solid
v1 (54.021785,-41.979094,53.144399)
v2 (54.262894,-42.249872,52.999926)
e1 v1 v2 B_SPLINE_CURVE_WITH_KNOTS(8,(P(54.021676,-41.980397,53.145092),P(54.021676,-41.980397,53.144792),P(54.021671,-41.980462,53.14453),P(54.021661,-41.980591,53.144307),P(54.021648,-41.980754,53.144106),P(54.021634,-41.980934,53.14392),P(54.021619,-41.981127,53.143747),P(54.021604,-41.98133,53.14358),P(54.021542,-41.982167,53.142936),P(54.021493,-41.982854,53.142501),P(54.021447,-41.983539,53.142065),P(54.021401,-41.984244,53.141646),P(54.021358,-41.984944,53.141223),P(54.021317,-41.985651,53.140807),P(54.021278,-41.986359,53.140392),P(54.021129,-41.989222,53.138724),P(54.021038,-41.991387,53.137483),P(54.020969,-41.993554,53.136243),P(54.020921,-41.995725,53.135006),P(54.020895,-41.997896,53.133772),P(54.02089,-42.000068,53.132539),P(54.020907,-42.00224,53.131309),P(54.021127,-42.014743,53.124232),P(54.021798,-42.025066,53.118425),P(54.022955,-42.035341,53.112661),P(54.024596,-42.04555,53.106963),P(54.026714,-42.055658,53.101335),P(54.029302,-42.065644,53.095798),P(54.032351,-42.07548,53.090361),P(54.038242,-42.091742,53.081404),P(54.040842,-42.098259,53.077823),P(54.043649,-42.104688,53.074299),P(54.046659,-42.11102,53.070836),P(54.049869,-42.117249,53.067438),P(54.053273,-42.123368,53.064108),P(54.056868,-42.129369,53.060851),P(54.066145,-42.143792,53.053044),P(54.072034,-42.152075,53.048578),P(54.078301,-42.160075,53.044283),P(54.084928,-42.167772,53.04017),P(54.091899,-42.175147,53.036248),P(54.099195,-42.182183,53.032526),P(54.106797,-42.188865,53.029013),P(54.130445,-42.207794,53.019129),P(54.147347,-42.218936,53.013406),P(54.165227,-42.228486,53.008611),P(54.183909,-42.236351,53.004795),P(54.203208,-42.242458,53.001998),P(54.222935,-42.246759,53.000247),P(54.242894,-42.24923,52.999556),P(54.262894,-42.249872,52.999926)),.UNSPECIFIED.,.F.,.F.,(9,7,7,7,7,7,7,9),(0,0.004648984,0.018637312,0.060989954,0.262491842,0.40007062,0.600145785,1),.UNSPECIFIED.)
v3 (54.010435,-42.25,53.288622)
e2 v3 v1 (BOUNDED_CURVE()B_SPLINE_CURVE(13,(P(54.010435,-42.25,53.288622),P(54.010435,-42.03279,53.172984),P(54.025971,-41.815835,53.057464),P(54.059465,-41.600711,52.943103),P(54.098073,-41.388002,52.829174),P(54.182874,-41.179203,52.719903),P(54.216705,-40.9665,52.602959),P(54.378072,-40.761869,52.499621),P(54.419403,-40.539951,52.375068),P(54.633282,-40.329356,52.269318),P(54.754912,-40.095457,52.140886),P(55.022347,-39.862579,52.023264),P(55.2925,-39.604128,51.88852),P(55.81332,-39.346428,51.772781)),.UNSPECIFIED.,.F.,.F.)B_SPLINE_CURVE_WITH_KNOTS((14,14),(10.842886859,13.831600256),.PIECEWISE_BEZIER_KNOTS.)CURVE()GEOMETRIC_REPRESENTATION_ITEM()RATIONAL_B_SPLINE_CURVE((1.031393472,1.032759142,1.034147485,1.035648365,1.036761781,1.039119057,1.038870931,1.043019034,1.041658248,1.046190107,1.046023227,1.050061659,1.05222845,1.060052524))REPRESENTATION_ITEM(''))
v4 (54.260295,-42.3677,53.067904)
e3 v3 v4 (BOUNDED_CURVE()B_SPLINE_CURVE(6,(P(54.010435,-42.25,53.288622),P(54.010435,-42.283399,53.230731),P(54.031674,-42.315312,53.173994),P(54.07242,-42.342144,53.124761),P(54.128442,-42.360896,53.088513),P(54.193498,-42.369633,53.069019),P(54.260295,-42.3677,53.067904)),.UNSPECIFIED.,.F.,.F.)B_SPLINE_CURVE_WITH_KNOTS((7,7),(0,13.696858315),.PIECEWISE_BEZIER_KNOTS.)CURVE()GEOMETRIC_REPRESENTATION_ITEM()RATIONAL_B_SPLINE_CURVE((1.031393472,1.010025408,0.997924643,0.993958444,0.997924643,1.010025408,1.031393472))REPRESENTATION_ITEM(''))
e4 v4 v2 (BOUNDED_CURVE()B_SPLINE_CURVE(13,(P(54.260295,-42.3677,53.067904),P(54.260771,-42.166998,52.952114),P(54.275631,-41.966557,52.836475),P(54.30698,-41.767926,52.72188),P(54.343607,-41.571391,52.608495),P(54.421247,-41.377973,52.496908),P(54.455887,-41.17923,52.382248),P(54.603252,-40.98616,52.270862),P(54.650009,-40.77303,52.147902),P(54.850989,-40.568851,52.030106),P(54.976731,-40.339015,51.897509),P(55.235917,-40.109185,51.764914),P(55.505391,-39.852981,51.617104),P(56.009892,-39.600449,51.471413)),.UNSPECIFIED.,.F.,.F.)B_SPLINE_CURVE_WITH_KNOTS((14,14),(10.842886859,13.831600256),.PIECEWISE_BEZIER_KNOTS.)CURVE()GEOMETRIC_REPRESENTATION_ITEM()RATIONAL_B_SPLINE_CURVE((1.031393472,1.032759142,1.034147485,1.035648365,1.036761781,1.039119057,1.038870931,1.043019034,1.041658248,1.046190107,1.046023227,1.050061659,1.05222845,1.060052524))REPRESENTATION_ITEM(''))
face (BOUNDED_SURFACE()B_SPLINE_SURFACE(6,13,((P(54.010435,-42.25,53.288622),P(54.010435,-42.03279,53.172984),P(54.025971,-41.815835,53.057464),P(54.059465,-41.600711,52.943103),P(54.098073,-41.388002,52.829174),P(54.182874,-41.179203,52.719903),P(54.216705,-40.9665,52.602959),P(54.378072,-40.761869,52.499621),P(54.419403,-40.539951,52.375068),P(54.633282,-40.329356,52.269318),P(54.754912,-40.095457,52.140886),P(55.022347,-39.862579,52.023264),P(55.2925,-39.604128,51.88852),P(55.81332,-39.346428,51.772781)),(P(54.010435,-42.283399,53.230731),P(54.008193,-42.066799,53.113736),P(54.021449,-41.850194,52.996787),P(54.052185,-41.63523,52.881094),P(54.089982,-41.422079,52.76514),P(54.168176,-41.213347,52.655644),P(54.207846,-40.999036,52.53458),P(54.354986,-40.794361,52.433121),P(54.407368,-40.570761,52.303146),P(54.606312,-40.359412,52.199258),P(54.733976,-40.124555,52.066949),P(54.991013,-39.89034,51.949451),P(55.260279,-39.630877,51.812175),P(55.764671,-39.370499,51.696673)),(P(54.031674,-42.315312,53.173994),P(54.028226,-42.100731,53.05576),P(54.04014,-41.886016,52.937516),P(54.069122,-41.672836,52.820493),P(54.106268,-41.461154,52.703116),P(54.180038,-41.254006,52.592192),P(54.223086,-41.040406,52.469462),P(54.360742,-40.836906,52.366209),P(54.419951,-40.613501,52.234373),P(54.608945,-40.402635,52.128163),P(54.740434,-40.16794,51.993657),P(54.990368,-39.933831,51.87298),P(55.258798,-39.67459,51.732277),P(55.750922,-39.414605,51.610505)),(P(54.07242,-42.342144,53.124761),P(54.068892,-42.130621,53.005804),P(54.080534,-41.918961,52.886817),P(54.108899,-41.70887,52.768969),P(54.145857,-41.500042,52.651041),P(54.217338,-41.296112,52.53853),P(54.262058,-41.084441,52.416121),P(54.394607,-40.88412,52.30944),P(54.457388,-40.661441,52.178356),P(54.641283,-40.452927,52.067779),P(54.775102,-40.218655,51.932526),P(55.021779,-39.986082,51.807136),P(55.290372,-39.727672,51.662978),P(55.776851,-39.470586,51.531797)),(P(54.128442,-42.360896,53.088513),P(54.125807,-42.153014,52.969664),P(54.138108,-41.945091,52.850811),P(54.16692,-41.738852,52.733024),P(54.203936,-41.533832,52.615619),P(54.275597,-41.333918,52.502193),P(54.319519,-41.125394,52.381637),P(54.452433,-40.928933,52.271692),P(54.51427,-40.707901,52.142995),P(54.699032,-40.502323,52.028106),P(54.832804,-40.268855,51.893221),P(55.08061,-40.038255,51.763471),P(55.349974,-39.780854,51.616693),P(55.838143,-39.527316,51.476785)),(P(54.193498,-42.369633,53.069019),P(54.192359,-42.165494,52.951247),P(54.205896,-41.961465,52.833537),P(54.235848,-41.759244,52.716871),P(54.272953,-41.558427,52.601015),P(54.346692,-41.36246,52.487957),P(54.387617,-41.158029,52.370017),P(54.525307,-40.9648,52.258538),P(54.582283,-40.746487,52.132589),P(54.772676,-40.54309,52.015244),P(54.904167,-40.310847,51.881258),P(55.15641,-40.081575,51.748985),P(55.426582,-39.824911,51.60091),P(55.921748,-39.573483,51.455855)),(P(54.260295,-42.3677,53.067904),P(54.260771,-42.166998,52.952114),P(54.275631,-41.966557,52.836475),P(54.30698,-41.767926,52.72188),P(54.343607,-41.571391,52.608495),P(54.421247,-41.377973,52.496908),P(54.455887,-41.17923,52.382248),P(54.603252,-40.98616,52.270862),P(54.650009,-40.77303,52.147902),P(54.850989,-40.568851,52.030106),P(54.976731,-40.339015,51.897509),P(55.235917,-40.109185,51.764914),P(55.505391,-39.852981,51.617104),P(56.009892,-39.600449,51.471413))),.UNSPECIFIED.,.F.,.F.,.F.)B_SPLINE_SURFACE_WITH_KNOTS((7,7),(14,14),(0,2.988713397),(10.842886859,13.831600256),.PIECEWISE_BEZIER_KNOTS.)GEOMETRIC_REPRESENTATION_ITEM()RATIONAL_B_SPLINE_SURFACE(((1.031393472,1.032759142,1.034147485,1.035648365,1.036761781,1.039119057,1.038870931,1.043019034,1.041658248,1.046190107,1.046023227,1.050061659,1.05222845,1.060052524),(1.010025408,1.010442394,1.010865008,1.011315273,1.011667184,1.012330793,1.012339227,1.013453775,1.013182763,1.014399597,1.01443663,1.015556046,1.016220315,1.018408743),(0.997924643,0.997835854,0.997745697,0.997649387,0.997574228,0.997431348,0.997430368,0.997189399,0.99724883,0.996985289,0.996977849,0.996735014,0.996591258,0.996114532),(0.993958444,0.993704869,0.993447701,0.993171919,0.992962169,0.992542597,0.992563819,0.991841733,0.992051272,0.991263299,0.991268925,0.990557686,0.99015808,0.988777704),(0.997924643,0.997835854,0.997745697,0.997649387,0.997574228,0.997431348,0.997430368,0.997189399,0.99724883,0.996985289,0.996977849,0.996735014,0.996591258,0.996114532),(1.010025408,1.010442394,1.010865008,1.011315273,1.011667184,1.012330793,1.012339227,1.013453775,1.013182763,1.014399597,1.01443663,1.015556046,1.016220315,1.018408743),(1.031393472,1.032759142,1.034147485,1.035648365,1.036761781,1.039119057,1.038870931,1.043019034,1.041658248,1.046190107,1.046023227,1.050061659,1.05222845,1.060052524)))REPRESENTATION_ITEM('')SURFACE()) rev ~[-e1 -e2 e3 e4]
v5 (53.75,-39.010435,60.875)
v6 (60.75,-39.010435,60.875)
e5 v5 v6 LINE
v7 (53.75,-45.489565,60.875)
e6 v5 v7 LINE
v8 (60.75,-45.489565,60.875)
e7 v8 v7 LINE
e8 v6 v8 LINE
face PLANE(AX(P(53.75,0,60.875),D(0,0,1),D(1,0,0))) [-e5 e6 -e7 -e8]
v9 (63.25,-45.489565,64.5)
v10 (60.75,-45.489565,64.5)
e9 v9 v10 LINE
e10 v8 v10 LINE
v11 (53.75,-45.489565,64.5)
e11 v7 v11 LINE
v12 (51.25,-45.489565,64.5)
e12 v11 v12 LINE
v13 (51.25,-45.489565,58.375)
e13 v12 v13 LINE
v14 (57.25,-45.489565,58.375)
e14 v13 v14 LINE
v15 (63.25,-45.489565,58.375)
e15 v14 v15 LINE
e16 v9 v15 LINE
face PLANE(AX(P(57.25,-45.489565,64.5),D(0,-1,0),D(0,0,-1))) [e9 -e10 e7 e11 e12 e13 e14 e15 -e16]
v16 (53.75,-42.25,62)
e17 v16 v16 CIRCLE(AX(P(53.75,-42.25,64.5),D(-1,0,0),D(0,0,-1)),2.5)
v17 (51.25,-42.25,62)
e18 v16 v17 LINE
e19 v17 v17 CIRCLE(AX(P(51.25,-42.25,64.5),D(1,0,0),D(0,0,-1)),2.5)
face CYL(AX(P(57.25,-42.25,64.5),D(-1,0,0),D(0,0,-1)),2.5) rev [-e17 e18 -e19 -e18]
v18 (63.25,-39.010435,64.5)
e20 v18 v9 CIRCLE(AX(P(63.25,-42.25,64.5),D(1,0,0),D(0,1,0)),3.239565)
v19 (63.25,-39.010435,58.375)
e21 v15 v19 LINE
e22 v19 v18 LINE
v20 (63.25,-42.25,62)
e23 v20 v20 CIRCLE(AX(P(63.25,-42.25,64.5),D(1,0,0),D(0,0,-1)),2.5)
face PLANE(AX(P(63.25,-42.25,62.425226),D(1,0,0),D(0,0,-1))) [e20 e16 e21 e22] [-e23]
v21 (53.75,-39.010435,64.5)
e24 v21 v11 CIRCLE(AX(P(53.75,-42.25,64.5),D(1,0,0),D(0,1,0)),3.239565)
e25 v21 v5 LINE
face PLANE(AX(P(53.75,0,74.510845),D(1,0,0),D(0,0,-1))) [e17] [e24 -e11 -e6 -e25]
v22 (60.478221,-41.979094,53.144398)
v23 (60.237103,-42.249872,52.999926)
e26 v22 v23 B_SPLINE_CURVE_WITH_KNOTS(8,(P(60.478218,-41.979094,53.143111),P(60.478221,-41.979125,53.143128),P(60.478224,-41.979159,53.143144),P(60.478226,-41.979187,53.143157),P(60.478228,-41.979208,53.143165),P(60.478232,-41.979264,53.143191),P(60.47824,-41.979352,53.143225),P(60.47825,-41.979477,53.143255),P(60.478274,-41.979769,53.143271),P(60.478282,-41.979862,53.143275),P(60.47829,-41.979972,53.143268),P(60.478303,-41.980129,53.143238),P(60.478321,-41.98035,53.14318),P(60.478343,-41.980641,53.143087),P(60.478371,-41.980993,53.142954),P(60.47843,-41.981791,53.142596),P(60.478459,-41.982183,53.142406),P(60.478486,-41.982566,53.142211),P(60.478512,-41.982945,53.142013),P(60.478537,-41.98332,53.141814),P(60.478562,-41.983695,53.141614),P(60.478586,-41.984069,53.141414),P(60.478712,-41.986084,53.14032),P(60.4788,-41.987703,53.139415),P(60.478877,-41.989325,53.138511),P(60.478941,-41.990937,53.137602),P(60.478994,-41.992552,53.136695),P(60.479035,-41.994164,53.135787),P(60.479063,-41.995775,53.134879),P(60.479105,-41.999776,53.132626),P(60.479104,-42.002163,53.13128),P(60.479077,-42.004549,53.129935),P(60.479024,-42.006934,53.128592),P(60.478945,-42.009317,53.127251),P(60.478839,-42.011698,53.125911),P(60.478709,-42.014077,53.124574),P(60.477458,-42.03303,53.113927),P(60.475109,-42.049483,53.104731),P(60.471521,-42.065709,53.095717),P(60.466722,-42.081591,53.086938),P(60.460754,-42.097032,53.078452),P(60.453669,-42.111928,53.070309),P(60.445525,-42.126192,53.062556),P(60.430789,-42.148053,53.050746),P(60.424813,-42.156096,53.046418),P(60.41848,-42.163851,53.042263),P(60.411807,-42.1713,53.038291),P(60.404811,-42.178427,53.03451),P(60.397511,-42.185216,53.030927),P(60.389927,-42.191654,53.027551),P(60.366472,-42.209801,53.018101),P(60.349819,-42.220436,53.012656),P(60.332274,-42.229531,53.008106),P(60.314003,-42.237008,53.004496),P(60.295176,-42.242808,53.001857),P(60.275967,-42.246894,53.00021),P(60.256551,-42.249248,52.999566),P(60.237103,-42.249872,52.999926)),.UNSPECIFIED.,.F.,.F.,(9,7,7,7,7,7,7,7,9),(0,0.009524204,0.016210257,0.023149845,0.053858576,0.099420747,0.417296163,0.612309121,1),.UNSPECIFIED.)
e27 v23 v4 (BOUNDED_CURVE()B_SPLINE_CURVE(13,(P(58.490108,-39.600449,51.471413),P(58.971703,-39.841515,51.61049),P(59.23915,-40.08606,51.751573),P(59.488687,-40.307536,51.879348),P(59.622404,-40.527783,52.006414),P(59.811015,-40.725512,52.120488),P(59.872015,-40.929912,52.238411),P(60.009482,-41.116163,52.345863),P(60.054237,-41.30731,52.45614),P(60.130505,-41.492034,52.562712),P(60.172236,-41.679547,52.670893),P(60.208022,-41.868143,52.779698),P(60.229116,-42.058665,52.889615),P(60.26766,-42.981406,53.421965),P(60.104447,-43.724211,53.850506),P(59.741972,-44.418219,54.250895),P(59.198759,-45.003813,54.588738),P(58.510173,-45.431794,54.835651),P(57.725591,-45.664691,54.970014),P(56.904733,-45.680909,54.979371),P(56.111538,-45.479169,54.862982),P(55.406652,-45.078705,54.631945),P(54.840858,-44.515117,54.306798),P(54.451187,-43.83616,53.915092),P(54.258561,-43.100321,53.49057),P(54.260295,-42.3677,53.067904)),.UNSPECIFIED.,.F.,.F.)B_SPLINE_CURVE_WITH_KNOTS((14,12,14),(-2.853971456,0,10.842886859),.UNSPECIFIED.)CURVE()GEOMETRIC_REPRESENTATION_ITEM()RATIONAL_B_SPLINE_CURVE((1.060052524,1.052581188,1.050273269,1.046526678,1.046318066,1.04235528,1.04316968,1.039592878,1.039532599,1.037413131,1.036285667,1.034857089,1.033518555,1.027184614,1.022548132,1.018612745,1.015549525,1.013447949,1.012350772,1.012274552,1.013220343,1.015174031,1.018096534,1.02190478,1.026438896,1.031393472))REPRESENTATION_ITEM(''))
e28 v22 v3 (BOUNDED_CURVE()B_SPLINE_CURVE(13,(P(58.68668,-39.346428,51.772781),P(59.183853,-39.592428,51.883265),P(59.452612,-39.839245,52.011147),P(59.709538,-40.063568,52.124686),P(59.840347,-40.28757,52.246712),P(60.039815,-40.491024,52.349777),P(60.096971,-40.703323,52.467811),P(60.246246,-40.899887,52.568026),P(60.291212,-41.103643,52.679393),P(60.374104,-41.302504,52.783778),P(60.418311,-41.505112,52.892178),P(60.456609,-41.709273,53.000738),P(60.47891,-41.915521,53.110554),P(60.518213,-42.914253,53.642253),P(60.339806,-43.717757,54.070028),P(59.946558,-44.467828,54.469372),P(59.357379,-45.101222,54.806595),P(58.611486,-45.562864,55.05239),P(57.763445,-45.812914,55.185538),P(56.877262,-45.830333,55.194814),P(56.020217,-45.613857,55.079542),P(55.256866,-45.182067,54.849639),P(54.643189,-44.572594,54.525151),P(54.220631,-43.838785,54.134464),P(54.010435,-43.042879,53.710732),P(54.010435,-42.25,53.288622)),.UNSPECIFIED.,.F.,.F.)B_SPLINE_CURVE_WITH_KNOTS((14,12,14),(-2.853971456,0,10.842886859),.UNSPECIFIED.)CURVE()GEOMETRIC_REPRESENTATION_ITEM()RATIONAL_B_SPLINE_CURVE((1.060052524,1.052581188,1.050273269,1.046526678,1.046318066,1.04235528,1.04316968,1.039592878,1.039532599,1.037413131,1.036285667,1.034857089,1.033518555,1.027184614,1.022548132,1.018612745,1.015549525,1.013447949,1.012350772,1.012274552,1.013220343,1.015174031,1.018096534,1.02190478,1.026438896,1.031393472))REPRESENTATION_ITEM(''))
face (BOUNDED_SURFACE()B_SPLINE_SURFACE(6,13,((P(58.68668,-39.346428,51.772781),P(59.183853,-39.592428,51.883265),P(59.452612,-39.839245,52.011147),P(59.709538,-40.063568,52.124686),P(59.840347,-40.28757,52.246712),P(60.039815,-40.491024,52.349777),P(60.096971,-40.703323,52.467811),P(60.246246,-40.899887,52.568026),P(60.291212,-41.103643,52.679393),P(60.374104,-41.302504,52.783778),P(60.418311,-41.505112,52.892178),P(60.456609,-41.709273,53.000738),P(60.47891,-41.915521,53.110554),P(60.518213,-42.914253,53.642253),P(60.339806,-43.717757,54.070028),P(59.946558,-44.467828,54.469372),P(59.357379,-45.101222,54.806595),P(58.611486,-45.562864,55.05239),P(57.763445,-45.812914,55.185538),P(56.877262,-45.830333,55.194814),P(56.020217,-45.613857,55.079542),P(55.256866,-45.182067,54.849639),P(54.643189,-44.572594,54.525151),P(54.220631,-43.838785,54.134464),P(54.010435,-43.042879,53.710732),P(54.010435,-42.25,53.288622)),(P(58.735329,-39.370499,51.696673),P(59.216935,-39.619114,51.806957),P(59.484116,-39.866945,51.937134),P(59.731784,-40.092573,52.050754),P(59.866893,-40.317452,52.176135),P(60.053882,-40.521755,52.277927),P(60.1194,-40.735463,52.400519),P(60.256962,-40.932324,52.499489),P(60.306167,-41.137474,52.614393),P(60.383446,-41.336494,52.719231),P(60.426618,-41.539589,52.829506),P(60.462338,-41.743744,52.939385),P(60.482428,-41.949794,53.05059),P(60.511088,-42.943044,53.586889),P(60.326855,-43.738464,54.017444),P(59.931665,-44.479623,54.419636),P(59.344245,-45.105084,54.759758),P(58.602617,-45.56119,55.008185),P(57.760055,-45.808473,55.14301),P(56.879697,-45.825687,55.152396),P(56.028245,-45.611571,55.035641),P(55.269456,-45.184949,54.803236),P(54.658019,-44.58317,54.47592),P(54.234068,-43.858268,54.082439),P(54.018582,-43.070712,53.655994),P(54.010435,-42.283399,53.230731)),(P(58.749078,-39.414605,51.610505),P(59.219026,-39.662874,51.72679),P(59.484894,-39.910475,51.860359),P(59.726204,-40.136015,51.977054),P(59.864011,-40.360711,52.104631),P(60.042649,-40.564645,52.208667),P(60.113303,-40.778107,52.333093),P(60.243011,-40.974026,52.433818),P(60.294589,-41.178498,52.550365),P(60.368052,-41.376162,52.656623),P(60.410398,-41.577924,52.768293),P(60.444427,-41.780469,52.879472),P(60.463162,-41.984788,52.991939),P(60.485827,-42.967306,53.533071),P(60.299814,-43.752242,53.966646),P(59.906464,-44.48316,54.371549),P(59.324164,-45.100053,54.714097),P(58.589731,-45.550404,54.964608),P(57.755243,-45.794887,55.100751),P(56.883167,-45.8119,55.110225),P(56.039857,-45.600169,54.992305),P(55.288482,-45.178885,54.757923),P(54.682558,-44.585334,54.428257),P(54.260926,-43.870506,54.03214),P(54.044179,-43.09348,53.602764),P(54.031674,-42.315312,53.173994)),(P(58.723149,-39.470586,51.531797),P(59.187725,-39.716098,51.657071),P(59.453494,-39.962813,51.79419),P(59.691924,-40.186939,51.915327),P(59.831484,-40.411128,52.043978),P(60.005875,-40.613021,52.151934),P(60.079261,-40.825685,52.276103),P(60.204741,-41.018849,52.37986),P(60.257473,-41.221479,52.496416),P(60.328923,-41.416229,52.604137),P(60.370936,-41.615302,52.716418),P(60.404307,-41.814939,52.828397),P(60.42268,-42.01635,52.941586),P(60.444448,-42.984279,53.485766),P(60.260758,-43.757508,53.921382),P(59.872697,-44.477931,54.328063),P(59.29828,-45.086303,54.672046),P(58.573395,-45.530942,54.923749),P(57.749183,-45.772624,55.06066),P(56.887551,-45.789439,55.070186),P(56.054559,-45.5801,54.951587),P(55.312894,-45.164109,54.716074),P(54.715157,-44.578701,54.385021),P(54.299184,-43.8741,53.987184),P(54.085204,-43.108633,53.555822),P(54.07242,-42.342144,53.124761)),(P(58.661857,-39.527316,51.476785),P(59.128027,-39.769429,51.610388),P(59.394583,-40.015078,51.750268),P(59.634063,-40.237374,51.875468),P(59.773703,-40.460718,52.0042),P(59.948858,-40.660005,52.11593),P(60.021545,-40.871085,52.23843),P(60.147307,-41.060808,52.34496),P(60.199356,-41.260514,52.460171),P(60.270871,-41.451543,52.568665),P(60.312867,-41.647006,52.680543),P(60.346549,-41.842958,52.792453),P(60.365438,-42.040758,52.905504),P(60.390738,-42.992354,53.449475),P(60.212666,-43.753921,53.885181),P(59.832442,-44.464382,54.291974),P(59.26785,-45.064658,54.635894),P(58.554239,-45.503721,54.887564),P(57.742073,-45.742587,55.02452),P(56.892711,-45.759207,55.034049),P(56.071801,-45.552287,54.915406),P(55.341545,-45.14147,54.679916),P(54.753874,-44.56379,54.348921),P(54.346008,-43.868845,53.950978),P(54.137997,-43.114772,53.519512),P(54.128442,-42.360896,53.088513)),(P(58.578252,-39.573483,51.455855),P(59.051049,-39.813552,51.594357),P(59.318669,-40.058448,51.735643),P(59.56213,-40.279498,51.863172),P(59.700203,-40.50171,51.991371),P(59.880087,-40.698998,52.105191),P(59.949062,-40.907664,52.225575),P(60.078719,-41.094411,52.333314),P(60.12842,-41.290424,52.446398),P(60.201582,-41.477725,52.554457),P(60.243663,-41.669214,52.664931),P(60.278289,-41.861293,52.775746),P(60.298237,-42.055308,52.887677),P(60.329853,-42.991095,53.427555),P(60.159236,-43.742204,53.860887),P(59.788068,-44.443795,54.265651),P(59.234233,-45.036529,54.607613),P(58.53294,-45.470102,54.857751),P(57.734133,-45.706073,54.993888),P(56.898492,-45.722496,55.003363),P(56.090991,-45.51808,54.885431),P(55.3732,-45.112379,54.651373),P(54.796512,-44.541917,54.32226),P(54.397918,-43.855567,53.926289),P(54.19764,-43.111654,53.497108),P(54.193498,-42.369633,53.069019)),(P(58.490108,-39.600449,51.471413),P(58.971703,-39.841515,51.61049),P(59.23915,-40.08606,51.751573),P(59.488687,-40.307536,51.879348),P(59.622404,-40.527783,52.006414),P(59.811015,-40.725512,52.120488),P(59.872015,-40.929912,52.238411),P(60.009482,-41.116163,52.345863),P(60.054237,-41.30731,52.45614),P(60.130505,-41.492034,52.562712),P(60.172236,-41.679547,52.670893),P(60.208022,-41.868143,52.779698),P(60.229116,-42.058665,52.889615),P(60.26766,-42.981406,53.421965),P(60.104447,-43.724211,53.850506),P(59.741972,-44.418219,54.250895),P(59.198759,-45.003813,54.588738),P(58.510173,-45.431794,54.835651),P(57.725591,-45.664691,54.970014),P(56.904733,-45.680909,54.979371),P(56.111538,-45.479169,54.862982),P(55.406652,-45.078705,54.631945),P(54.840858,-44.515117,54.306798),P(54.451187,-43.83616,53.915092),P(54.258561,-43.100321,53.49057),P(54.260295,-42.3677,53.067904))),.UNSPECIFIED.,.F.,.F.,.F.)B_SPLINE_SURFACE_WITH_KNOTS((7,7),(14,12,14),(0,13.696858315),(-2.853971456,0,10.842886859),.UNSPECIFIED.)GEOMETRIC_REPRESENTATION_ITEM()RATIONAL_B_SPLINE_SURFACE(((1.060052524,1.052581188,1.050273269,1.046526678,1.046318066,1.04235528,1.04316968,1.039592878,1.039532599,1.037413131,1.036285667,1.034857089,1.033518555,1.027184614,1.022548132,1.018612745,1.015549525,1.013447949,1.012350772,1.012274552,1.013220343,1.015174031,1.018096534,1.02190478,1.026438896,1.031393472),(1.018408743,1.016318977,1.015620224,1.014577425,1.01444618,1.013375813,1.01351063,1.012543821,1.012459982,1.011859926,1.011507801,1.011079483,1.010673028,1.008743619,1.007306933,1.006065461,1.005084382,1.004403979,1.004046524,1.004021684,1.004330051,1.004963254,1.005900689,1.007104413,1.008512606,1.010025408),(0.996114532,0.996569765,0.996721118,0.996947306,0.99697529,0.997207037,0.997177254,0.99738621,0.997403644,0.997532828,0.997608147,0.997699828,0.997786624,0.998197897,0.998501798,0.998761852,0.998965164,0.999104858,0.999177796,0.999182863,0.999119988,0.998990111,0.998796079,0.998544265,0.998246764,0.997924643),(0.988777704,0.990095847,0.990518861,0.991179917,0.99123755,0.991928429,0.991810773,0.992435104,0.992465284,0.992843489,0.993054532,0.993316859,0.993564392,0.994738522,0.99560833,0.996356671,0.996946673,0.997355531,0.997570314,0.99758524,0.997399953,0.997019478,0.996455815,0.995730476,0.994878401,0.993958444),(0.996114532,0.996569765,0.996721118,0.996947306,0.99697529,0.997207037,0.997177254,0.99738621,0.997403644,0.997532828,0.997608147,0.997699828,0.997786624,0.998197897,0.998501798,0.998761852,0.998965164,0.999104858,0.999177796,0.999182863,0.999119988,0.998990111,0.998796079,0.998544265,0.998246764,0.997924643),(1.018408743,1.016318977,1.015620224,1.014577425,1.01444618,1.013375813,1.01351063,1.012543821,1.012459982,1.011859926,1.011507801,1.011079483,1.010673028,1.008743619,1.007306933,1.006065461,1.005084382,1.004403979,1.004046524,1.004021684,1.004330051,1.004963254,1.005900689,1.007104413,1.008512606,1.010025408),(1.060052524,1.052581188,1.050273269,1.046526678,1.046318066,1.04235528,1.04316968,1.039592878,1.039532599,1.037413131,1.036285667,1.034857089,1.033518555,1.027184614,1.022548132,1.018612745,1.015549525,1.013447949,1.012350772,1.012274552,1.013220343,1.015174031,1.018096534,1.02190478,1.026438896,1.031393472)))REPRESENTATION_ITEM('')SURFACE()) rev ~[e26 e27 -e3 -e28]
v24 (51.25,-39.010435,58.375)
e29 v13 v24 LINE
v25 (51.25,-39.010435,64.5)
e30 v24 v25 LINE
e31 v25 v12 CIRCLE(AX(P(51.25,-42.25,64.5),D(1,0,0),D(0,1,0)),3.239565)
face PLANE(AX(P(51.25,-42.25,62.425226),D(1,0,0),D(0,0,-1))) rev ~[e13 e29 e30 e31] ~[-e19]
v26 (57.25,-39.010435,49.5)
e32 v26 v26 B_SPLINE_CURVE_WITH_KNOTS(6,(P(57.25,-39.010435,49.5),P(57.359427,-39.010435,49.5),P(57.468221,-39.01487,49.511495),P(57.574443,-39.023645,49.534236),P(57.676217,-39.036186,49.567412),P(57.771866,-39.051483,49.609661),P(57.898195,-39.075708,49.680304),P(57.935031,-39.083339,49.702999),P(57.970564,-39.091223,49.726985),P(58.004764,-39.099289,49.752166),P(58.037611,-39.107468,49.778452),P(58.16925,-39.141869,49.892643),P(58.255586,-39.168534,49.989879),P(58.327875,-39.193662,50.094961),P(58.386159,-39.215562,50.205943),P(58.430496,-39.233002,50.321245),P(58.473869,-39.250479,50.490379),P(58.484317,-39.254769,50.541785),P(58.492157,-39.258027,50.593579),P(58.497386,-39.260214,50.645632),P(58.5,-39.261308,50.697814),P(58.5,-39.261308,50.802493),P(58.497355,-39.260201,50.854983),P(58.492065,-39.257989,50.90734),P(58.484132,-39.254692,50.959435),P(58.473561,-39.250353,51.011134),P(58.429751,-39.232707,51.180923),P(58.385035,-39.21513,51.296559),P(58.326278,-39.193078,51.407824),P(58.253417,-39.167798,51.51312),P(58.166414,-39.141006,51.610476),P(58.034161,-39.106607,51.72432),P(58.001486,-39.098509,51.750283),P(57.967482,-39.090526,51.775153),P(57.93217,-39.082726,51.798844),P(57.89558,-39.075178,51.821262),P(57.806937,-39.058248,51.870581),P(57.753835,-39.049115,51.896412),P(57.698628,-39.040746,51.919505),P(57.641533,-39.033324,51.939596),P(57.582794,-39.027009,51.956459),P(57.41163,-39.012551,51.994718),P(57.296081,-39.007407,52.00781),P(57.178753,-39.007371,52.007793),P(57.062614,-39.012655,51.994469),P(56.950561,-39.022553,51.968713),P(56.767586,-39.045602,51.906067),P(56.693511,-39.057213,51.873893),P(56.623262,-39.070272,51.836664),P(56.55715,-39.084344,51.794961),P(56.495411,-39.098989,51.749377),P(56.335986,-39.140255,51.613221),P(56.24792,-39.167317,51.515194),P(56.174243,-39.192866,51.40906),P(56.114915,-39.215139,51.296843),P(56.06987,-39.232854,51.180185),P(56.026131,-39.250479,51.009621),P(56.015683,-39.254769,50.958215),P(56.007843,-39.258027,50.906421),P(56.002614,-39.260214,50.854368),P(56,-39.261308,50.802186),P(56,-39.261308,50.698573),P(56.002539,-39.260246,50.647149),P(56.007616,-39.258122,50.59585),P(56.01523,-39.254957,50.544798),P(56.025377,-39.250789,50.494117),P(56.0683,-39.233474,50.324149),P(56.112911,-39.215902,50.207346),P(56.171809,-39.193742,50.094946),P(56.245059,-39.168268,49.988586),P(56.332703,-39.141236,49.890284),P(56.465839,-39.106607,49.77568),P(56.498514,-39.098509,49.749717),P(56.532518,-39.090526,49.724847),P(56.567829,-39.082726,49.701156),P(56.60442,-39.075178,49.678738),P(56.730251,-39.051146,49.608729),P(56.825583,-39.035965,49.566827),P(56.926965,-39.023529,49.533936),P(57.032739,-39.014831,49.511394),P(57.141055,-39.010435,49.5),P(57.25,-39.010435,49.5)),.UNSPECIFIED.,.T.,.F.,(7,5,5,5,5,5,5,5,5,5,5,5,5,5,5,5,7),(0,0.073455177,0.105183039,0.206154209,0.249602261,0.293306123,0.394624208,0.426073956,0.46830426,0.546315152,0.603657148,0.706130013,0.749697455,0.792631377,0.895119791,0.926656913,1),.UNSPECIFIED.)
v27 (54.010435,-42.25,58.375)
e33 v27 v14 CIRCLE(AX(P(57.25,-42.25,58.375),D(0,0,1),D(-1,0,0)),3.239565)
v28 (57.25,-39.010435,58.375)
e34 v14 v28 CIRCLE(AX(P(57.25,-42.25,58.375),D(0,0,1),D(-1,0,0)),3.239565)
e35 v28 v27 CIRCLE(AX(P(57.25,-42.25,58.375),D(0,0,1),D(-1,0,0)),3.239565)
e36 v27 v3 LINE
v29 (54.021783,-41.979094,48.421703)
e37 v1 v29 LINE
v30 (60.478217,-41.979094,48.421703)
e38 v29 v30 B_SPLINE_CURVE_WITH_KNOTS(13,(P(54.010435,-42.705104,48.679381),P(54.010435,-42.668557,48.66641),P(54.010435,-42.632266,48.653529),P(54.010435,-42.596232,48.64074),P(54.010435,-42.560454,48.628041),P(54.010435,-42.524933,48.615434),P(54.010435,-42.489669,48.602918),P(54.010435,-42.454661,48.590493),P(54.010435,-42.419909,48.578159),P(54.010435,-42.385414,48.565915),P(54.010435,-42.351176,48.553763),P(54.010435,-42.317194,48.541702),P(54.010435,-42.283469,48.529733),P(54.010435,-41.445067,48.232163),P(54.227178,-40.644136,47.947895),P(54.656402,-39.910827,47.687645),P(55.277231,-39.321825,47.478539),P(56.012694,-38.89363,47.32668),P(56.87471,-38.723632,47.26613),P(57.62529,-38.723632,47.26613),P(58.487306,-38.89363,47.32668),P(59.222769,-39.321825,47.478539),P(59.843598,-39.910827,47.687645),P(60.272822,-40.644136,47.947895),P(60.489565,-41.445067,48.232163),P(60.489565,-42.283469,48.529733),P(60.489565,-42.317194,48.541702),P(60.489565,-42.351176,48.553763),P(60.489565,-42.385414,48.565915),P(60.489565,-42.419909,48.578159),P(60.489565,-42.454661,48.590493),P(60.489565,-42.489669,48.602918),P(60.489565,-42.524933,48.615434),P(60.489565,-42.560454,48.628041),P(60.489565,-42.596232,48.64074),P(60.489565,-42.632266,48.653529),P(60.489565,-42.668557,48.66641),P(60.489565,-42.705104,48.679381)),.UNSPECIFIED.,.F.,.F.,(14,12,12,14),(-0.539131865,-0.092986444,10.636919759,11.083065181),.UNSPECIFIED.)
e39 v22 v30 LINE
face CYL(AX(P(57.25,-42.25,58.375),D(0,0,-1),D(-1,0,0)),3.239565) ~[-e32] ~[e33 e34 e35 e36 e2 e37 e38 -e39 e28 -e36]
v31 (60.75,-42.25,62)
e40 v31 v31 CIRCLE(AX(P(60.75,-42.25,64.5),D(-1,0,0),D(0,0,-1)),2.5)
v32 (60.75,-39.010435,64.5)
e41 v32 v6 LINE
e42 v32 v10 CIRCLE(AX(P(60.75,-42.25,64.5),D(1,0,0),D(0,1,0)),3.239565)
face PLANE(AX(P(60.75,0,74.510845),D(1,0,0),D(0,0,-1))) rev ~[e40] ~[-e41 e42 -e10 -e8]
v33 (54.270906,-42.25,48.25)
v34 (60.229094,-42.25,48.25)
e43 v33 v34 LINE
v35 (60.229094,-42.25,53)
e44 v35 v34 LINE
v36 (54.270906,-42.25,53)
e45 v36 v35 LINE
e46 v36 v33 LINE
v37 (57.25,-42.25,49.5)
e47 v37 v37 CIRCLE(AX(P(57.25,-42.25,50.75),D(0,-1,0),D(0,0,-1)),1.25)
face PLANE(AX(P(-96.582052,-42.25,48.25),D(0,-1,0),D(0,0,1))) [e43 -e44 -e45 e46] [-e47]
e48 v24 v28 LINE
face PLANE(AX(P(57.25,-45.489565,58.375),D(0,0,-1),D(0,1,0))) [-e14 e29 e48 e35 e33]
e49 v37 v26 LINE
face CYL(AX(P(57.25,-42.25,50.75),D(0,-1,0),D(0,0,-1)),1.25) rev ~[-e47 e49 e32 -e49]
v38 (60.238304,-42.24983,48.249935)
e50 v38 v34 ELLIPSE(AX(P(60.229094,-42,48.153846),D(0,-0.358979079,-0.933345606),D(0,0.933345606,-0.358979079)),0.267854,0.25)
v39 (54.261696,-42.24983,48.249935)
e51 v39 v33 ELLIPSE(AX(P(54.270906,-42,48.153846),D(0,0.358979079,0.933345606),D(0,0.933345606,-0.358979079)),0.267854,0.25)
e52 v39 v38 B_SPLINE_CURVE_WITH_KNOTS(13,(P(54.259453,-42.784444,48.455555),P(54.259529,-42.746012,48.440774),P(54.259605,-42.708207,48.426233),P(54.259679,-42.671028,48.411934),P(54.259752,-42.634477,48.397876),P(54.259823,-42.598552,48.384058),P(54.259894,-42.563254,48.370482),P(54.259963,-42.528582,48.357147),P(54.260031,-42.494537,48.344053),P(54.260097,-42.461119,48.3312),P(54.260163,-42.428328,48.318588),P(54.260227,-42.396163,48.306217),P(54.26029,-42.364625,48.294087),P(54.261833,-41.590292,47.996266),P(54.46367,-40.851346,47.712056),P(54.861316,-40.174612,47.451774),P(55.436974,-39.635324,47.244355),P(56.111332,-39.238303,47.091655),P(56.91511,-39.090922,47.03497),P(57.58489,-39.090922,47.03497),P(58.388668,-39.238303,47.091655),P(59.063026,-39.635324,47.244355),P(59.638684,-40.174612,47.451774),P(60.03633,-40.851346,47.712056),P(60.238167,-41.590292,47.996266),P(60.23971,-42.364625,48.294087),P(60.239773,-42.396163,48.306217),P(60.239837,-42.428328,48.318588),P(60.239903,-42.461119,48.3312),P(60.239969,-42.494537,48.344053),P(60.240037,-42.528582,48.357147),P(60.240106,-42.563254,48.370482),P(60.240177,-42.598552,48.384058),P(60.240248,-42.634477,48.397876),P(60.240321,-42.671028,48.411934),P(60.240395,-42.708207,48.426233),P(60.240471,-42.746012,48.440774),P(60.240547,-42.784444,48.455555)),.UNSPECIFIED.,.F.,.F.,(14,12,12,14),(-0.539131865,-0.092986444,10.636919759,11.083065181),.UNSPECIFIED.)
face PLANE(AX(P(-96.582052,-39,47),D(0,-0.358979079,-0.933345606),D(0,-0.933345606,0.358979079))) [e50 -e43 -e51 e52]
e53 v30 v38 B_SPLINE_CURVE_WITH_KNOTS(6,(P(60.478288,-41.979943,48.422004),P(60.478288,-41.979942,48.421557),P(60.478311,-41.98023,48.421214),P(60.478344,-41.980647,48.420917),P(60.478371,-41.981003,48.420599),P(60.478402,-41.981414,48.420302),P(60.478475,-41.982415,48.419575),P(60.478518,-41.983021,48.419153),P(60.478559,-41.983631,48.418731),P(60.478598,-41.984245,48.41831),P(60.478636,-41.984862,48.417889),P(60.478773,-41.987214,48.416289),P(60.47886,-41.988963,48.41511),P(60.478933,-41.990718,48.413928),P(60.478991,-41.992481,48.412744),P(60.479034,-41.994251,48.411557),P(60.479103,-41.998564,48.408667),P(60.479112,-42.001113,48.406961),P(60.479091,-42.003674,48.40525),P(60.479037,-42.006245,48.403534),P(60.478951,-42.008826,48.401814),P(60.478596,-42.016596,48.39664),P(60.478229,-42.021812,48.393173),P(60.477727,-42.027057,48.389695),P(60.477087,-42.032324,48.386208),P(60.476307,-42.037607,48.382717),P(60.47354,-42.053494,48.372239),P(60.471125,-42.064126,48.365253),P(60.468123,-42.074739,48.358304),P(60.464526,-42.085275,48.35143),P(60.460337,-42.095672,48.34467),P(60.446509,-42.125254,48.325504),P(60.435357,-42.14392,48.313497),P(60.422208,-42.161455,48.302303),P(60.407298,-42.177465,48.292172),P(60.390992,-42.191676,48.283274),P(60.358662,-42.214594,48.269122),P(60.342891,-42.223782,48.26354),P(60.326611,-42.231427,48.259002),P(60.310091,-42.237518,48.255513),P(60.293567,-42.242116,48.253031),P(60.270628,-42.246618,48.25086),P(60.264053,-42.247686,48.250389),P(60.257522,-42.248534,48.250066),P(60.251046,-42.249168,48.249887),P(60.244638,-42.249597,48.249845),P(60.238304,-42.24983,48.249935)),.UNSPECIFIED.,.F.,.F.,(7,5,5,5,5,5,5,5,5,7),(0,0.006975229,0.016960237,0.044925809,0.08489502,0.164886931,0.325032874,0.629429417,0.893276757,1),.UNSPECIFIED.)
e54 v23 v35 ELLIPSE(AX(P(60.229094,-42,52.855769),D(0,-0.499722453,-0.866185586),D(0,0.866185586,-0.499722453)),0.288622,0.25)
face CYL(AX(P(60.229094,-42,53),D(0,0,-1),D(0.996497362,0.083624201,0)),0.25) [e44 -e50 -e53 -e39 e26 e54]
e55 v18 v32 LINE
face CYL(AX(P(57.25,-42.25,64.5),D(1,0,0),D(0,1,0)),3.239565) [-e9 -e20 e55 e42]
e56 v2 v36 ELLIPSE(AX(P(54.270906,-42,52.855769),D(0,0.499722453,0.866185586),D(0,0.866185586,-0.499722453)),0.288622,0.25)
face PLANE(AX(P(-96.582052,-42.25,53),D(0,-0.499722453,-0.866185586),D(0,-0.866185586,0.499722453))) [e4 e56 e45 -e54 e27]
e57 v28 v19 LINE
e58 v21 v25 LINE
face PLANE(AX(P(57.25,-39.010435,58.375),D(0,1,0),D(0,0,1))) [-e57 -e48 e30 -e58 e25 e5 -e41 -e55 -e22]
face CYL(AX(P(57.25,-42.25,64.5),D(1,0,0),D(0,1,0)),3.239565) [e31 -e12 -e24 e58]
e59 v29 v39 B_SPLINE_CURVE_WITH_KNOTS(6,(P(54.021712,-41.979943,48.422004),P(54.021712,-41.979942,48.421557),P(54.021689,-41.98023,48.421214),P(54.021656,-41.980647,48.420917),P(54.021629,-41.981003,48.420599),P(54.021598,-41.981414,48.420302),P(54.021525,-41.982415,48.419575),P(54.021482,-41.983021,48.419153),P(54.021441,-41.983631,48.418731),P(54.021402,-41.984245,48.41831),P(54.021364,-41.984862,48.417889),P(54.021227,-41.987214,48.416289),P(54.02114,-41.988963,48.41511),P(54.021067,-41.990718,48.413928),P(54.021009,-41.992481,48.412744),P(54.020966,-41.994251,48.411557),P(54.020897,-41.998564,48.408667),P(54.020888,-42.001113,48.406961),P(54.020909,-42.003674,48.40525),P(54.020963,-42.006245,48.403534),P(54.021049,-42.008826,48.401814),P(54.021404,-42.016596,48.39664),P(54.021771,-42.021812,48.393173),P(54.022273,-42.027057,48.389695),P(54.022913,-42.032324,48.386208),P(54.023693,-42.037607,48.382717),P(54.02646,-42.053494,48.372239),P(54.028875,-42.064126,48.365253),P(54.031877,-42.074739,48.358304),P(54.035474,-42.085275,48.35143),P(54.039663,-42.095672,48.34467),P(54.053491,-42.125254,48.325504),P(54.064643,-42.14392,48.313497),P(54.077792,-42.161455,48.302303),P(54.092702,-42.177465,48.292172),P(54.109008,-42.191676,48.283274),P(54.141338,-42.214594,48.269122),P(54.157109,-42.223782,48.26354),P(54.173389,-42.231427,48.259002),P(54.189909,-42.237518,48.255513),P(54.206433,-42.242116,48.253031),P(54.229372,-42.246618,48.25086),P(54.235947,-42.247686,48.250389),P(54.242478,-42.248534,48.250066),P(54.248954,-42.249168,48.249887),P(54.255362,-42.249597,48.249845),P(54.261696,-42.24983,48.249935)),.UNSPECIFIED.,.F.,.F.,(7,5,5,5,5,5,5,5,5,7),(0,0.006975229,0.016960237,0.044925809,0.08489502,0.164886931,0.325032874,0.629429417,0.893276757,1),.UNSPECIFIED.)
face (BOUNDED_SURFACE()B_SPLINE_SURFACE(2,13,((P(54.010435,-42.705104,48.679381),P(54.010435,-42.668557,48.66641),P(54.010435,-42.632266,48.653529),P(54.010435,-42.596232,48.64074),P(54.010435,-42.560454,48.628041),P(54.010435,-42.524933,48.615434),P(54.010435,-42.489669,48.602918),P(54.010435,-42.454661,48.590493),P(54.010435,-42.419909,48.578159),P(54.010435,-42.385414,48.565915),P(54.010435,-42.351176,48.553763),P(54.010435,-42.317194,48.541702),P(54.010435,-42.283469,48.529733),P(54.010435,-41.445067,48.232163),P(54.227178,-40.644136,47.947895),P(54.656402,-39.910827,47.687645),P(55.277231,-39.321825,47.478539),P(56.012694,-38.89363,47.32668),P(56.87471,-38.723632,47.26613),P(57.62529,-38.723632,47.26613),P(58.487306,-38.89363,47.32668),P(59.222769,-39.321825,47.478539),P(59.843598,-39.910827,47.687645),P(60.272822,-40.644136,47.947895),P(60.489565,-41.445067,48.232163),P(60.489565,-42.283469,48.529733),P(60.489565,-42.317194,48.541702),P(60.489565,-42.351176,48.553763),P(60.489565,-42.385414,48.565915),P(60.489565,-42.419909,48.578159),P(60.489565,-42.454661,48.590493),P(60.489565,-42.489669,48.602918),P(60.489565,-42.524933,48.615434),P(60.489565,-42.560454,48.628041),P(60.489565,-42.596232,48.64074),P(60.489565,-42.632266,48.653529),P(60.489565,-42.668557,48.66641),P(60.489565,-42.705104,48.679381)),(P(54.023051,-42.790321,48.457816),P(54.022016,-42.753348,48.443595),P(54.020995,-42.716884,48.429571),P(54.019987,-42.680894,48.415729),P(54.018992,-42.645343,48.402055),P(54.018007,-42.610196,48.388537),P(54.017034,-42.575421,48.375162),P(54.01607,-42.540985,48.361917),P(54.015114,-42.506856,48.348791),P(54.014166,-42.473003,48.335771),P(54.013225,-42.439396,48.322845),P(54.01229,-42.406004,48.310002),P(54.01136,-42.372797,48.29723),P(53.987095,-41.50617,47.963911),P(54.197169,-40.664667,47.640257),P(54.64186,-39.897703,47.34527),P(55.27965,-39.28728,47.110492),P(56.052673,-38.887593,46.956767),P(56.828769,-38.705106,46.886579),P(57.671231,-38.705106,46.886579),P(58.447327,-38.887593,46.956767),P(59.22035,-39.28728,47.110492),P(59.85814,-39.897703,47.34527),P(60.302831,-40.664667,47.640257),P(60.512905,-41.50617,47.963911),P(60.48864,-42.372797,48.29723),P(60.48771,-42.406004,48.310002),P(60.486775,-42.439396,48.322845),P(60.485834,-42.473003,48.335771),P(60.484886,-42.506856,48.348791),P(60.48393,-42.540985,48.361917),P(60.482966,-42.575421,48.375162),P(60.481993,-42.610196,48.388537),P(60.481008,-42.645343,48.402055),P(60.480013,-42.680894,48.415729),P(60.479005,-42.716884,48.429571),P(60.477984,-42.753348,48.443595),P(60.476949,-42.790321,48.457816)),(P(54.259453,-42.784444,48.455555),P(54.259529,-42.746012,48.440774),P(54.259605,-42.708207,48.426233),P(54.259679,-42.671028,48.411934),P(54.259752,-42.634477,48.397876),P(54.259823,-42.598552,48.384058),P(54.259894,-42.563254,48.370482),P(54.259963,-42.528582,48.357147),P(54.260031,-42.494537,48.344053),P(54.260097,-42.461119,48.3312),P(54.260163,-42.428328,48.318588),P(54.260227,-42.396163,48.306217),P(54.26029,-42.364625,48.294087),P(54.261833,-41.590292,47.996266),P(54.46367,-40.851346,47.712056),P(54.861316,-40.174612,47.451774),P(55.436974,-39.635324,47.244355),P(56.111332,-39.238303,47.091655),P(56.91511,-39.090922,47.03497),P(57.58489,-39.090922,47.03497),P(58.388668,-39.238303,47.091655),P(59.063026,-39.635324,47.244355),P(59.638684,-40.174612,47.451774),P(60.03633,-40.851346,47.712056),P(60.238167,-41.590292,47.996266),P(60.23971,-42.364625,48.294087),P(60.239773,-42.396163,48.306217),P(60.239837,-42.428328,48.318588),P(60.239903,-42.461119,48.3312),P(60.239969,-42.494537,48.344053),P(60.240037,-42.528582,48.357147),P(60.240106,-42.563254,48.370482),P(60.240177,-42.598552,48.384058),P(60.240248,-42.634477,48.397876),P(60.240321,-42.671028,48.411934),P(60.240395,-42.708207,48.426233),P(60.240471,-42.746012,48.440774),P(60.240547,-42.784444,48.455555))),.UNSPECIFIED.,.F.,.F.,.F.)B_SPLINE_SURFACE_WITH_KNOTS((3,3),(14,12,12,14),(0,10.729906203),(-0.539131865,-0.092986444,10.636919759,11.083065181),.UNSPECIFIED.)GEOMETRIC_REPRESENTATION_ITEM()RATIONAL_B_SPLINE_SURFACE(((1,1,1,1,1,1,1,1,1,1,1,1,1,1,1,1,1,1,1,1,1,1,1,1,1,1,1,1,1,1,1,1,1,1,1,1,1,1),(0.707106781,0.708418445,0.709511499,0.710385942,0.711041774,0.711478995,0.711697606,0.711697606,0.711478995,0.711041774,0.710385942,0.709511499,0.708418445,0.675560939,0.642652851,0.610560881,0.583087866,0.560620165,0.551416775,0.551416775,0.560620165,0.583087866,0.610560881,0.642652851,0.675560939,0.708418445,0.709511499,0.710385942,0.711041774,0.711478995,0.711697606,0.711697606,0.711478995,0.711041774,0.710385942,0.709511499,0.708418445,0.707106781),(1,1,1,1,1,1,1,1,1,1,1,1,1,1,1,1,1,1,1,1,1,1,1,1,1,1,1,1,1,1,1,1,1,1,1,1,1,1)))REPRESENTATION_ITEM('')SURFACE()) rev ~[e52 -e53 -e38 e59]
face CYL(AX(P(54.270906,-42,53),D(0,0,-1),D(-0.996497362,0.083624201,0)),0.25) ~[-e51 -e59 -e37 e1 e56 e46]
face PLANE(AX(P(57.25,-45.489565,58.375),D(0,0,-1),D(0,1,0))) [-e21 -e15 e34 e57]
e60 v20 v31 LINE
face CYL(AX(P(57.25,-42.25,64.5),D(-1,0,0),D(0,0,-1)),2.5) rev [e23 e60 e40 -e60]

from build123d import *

# Parameters (mm, degrees)
CUT_EXTRUDE_1_DEPTH      = 96.582051988
CUT_EXTRUDE_1_DEPTH_BACK = 96.582051988
FILLET_1_R               = 0.25
SKETCH_4_R               = 1.25
CUT_EXTRUDE_2_DEPTH      = 85.125637832
SKETCH_5_R               = 2.5
EXTRUDE_1_DEPTH          = 6
SKETCH_6_W               = 7
SKETCH_6_H               = 13.635845178
CUT_EXTRUDE_3_DEPTH      = 104.240069036


with BuildPart() as part:
    # 草图1 → 旋转1 (revolve)
    with BuildSketch(Plane(origin=(0, -42.25, 0), x_dir=(1, 0, 0), z_dir=(0, 1, 0)), mode=Mode.PRIVATE) as revolve_1_sk:
        Polygon((57.25, -47), (57.25, -53), (57.25, -58.375), (60.489565186, -58.375), (60.489565186, -47), align=None)
    revolve(revolve_1_sk.sketch.rotate(Axis((57.25, -42.25, 47), (0, 0, 1)), 180), axis=Axis((57.25, -42.25, 47), (0, 0, 1)))

    # 草图2 → 切除-拉伸1 (cut, two sides: drawn at the far end of the back side and taken through both)
    with BuildSketch(Plane(origin=(0, 0, 0), x_dir=(0, 0, -1), z_dir=(1, 0, 0)).offset(-CUT_EXTRUDE_1_DEPTH_BACK)):
        Polygon((-48.25, -42.25), (-53, -42.25), (-54.875, -45.5), (-45.95593144, -45.5), (-45.95593144, -39), (-47, -39), align=None)
    extrude(amount=CUT_EXTRUDE_1_DEPTH + CUT_EXTRUDE_1_DEPTH_BACK, mode=Mode.SUBTRACT)

    # 圆角1
    fillet_1_edges = [part.edges().sort_by_distance(p)[0] for p in [
        (57.250000001, -39.010434814, 47.00401339),
        (54.010434814, -42.25, 50.625),
        (57.249999966, -45.489565186, 54.868979915),
        (60.489565186, -42.25, 50.625),
    ]]
    fillet(fillet_1_edges, radius=FILLET_1_R)

    # 草图4 → 切除-拉伸2 (cut, through all)
    with BuildSketch(Plane.XZ.offset(42.25)):
        with Locations(Location((57.25, 50.75, 0), (0, 0, 270))):
            Circle(SKETCH_4_R)
    extrude(amount=-CUT_EXTRUDE_2_DEPTH, mode=Mode.SUBTRACT)

    # 草图5 → 凸台-拉伸1 (add, symmetric)
    with BuildSketch(Plane(origin=(57.25, 0, 0), x_dir=(0, 0, -1), z_dir=(1, 0, 0))):
        with BuildLine():
            Line((-64.5, -45.489565186), (-58.375, -45.489565186))
            Line((-58.375, -45.489565186), (-58.375, -39.010434814))
            Line((-58.375, -39.010434814), (-64.5, -39.010434814))
            ThreePointArc((-64.5, -39.010434814), (-67.739565186, -42.25), (-64.5, -45.489565186))
        make_face()
        with Locations((-64.5, -42.25)):
            Circle(SKETCH_5_R, mode=Mode.SUBTRACT)
    extrude(amount=EXTRUDE_1_DEPTH, both=True)

    # 草图6 → 切除-拉伸3 (cut, through all)
    with BuildSketch(Plane(origin=(0, 0, 0), x_dir=(1, 0, 0), z_dir=(0, 1, 0))):
        with Locations((57.25, -67.692922589)):
            Rectangle(SKETCH_6_W, SKETCH_6_H)
    extrude(amount=-CUT_EXTRUDE_3_DEPTH, mode=Mode.SUBTRACT)


solid = part.part
